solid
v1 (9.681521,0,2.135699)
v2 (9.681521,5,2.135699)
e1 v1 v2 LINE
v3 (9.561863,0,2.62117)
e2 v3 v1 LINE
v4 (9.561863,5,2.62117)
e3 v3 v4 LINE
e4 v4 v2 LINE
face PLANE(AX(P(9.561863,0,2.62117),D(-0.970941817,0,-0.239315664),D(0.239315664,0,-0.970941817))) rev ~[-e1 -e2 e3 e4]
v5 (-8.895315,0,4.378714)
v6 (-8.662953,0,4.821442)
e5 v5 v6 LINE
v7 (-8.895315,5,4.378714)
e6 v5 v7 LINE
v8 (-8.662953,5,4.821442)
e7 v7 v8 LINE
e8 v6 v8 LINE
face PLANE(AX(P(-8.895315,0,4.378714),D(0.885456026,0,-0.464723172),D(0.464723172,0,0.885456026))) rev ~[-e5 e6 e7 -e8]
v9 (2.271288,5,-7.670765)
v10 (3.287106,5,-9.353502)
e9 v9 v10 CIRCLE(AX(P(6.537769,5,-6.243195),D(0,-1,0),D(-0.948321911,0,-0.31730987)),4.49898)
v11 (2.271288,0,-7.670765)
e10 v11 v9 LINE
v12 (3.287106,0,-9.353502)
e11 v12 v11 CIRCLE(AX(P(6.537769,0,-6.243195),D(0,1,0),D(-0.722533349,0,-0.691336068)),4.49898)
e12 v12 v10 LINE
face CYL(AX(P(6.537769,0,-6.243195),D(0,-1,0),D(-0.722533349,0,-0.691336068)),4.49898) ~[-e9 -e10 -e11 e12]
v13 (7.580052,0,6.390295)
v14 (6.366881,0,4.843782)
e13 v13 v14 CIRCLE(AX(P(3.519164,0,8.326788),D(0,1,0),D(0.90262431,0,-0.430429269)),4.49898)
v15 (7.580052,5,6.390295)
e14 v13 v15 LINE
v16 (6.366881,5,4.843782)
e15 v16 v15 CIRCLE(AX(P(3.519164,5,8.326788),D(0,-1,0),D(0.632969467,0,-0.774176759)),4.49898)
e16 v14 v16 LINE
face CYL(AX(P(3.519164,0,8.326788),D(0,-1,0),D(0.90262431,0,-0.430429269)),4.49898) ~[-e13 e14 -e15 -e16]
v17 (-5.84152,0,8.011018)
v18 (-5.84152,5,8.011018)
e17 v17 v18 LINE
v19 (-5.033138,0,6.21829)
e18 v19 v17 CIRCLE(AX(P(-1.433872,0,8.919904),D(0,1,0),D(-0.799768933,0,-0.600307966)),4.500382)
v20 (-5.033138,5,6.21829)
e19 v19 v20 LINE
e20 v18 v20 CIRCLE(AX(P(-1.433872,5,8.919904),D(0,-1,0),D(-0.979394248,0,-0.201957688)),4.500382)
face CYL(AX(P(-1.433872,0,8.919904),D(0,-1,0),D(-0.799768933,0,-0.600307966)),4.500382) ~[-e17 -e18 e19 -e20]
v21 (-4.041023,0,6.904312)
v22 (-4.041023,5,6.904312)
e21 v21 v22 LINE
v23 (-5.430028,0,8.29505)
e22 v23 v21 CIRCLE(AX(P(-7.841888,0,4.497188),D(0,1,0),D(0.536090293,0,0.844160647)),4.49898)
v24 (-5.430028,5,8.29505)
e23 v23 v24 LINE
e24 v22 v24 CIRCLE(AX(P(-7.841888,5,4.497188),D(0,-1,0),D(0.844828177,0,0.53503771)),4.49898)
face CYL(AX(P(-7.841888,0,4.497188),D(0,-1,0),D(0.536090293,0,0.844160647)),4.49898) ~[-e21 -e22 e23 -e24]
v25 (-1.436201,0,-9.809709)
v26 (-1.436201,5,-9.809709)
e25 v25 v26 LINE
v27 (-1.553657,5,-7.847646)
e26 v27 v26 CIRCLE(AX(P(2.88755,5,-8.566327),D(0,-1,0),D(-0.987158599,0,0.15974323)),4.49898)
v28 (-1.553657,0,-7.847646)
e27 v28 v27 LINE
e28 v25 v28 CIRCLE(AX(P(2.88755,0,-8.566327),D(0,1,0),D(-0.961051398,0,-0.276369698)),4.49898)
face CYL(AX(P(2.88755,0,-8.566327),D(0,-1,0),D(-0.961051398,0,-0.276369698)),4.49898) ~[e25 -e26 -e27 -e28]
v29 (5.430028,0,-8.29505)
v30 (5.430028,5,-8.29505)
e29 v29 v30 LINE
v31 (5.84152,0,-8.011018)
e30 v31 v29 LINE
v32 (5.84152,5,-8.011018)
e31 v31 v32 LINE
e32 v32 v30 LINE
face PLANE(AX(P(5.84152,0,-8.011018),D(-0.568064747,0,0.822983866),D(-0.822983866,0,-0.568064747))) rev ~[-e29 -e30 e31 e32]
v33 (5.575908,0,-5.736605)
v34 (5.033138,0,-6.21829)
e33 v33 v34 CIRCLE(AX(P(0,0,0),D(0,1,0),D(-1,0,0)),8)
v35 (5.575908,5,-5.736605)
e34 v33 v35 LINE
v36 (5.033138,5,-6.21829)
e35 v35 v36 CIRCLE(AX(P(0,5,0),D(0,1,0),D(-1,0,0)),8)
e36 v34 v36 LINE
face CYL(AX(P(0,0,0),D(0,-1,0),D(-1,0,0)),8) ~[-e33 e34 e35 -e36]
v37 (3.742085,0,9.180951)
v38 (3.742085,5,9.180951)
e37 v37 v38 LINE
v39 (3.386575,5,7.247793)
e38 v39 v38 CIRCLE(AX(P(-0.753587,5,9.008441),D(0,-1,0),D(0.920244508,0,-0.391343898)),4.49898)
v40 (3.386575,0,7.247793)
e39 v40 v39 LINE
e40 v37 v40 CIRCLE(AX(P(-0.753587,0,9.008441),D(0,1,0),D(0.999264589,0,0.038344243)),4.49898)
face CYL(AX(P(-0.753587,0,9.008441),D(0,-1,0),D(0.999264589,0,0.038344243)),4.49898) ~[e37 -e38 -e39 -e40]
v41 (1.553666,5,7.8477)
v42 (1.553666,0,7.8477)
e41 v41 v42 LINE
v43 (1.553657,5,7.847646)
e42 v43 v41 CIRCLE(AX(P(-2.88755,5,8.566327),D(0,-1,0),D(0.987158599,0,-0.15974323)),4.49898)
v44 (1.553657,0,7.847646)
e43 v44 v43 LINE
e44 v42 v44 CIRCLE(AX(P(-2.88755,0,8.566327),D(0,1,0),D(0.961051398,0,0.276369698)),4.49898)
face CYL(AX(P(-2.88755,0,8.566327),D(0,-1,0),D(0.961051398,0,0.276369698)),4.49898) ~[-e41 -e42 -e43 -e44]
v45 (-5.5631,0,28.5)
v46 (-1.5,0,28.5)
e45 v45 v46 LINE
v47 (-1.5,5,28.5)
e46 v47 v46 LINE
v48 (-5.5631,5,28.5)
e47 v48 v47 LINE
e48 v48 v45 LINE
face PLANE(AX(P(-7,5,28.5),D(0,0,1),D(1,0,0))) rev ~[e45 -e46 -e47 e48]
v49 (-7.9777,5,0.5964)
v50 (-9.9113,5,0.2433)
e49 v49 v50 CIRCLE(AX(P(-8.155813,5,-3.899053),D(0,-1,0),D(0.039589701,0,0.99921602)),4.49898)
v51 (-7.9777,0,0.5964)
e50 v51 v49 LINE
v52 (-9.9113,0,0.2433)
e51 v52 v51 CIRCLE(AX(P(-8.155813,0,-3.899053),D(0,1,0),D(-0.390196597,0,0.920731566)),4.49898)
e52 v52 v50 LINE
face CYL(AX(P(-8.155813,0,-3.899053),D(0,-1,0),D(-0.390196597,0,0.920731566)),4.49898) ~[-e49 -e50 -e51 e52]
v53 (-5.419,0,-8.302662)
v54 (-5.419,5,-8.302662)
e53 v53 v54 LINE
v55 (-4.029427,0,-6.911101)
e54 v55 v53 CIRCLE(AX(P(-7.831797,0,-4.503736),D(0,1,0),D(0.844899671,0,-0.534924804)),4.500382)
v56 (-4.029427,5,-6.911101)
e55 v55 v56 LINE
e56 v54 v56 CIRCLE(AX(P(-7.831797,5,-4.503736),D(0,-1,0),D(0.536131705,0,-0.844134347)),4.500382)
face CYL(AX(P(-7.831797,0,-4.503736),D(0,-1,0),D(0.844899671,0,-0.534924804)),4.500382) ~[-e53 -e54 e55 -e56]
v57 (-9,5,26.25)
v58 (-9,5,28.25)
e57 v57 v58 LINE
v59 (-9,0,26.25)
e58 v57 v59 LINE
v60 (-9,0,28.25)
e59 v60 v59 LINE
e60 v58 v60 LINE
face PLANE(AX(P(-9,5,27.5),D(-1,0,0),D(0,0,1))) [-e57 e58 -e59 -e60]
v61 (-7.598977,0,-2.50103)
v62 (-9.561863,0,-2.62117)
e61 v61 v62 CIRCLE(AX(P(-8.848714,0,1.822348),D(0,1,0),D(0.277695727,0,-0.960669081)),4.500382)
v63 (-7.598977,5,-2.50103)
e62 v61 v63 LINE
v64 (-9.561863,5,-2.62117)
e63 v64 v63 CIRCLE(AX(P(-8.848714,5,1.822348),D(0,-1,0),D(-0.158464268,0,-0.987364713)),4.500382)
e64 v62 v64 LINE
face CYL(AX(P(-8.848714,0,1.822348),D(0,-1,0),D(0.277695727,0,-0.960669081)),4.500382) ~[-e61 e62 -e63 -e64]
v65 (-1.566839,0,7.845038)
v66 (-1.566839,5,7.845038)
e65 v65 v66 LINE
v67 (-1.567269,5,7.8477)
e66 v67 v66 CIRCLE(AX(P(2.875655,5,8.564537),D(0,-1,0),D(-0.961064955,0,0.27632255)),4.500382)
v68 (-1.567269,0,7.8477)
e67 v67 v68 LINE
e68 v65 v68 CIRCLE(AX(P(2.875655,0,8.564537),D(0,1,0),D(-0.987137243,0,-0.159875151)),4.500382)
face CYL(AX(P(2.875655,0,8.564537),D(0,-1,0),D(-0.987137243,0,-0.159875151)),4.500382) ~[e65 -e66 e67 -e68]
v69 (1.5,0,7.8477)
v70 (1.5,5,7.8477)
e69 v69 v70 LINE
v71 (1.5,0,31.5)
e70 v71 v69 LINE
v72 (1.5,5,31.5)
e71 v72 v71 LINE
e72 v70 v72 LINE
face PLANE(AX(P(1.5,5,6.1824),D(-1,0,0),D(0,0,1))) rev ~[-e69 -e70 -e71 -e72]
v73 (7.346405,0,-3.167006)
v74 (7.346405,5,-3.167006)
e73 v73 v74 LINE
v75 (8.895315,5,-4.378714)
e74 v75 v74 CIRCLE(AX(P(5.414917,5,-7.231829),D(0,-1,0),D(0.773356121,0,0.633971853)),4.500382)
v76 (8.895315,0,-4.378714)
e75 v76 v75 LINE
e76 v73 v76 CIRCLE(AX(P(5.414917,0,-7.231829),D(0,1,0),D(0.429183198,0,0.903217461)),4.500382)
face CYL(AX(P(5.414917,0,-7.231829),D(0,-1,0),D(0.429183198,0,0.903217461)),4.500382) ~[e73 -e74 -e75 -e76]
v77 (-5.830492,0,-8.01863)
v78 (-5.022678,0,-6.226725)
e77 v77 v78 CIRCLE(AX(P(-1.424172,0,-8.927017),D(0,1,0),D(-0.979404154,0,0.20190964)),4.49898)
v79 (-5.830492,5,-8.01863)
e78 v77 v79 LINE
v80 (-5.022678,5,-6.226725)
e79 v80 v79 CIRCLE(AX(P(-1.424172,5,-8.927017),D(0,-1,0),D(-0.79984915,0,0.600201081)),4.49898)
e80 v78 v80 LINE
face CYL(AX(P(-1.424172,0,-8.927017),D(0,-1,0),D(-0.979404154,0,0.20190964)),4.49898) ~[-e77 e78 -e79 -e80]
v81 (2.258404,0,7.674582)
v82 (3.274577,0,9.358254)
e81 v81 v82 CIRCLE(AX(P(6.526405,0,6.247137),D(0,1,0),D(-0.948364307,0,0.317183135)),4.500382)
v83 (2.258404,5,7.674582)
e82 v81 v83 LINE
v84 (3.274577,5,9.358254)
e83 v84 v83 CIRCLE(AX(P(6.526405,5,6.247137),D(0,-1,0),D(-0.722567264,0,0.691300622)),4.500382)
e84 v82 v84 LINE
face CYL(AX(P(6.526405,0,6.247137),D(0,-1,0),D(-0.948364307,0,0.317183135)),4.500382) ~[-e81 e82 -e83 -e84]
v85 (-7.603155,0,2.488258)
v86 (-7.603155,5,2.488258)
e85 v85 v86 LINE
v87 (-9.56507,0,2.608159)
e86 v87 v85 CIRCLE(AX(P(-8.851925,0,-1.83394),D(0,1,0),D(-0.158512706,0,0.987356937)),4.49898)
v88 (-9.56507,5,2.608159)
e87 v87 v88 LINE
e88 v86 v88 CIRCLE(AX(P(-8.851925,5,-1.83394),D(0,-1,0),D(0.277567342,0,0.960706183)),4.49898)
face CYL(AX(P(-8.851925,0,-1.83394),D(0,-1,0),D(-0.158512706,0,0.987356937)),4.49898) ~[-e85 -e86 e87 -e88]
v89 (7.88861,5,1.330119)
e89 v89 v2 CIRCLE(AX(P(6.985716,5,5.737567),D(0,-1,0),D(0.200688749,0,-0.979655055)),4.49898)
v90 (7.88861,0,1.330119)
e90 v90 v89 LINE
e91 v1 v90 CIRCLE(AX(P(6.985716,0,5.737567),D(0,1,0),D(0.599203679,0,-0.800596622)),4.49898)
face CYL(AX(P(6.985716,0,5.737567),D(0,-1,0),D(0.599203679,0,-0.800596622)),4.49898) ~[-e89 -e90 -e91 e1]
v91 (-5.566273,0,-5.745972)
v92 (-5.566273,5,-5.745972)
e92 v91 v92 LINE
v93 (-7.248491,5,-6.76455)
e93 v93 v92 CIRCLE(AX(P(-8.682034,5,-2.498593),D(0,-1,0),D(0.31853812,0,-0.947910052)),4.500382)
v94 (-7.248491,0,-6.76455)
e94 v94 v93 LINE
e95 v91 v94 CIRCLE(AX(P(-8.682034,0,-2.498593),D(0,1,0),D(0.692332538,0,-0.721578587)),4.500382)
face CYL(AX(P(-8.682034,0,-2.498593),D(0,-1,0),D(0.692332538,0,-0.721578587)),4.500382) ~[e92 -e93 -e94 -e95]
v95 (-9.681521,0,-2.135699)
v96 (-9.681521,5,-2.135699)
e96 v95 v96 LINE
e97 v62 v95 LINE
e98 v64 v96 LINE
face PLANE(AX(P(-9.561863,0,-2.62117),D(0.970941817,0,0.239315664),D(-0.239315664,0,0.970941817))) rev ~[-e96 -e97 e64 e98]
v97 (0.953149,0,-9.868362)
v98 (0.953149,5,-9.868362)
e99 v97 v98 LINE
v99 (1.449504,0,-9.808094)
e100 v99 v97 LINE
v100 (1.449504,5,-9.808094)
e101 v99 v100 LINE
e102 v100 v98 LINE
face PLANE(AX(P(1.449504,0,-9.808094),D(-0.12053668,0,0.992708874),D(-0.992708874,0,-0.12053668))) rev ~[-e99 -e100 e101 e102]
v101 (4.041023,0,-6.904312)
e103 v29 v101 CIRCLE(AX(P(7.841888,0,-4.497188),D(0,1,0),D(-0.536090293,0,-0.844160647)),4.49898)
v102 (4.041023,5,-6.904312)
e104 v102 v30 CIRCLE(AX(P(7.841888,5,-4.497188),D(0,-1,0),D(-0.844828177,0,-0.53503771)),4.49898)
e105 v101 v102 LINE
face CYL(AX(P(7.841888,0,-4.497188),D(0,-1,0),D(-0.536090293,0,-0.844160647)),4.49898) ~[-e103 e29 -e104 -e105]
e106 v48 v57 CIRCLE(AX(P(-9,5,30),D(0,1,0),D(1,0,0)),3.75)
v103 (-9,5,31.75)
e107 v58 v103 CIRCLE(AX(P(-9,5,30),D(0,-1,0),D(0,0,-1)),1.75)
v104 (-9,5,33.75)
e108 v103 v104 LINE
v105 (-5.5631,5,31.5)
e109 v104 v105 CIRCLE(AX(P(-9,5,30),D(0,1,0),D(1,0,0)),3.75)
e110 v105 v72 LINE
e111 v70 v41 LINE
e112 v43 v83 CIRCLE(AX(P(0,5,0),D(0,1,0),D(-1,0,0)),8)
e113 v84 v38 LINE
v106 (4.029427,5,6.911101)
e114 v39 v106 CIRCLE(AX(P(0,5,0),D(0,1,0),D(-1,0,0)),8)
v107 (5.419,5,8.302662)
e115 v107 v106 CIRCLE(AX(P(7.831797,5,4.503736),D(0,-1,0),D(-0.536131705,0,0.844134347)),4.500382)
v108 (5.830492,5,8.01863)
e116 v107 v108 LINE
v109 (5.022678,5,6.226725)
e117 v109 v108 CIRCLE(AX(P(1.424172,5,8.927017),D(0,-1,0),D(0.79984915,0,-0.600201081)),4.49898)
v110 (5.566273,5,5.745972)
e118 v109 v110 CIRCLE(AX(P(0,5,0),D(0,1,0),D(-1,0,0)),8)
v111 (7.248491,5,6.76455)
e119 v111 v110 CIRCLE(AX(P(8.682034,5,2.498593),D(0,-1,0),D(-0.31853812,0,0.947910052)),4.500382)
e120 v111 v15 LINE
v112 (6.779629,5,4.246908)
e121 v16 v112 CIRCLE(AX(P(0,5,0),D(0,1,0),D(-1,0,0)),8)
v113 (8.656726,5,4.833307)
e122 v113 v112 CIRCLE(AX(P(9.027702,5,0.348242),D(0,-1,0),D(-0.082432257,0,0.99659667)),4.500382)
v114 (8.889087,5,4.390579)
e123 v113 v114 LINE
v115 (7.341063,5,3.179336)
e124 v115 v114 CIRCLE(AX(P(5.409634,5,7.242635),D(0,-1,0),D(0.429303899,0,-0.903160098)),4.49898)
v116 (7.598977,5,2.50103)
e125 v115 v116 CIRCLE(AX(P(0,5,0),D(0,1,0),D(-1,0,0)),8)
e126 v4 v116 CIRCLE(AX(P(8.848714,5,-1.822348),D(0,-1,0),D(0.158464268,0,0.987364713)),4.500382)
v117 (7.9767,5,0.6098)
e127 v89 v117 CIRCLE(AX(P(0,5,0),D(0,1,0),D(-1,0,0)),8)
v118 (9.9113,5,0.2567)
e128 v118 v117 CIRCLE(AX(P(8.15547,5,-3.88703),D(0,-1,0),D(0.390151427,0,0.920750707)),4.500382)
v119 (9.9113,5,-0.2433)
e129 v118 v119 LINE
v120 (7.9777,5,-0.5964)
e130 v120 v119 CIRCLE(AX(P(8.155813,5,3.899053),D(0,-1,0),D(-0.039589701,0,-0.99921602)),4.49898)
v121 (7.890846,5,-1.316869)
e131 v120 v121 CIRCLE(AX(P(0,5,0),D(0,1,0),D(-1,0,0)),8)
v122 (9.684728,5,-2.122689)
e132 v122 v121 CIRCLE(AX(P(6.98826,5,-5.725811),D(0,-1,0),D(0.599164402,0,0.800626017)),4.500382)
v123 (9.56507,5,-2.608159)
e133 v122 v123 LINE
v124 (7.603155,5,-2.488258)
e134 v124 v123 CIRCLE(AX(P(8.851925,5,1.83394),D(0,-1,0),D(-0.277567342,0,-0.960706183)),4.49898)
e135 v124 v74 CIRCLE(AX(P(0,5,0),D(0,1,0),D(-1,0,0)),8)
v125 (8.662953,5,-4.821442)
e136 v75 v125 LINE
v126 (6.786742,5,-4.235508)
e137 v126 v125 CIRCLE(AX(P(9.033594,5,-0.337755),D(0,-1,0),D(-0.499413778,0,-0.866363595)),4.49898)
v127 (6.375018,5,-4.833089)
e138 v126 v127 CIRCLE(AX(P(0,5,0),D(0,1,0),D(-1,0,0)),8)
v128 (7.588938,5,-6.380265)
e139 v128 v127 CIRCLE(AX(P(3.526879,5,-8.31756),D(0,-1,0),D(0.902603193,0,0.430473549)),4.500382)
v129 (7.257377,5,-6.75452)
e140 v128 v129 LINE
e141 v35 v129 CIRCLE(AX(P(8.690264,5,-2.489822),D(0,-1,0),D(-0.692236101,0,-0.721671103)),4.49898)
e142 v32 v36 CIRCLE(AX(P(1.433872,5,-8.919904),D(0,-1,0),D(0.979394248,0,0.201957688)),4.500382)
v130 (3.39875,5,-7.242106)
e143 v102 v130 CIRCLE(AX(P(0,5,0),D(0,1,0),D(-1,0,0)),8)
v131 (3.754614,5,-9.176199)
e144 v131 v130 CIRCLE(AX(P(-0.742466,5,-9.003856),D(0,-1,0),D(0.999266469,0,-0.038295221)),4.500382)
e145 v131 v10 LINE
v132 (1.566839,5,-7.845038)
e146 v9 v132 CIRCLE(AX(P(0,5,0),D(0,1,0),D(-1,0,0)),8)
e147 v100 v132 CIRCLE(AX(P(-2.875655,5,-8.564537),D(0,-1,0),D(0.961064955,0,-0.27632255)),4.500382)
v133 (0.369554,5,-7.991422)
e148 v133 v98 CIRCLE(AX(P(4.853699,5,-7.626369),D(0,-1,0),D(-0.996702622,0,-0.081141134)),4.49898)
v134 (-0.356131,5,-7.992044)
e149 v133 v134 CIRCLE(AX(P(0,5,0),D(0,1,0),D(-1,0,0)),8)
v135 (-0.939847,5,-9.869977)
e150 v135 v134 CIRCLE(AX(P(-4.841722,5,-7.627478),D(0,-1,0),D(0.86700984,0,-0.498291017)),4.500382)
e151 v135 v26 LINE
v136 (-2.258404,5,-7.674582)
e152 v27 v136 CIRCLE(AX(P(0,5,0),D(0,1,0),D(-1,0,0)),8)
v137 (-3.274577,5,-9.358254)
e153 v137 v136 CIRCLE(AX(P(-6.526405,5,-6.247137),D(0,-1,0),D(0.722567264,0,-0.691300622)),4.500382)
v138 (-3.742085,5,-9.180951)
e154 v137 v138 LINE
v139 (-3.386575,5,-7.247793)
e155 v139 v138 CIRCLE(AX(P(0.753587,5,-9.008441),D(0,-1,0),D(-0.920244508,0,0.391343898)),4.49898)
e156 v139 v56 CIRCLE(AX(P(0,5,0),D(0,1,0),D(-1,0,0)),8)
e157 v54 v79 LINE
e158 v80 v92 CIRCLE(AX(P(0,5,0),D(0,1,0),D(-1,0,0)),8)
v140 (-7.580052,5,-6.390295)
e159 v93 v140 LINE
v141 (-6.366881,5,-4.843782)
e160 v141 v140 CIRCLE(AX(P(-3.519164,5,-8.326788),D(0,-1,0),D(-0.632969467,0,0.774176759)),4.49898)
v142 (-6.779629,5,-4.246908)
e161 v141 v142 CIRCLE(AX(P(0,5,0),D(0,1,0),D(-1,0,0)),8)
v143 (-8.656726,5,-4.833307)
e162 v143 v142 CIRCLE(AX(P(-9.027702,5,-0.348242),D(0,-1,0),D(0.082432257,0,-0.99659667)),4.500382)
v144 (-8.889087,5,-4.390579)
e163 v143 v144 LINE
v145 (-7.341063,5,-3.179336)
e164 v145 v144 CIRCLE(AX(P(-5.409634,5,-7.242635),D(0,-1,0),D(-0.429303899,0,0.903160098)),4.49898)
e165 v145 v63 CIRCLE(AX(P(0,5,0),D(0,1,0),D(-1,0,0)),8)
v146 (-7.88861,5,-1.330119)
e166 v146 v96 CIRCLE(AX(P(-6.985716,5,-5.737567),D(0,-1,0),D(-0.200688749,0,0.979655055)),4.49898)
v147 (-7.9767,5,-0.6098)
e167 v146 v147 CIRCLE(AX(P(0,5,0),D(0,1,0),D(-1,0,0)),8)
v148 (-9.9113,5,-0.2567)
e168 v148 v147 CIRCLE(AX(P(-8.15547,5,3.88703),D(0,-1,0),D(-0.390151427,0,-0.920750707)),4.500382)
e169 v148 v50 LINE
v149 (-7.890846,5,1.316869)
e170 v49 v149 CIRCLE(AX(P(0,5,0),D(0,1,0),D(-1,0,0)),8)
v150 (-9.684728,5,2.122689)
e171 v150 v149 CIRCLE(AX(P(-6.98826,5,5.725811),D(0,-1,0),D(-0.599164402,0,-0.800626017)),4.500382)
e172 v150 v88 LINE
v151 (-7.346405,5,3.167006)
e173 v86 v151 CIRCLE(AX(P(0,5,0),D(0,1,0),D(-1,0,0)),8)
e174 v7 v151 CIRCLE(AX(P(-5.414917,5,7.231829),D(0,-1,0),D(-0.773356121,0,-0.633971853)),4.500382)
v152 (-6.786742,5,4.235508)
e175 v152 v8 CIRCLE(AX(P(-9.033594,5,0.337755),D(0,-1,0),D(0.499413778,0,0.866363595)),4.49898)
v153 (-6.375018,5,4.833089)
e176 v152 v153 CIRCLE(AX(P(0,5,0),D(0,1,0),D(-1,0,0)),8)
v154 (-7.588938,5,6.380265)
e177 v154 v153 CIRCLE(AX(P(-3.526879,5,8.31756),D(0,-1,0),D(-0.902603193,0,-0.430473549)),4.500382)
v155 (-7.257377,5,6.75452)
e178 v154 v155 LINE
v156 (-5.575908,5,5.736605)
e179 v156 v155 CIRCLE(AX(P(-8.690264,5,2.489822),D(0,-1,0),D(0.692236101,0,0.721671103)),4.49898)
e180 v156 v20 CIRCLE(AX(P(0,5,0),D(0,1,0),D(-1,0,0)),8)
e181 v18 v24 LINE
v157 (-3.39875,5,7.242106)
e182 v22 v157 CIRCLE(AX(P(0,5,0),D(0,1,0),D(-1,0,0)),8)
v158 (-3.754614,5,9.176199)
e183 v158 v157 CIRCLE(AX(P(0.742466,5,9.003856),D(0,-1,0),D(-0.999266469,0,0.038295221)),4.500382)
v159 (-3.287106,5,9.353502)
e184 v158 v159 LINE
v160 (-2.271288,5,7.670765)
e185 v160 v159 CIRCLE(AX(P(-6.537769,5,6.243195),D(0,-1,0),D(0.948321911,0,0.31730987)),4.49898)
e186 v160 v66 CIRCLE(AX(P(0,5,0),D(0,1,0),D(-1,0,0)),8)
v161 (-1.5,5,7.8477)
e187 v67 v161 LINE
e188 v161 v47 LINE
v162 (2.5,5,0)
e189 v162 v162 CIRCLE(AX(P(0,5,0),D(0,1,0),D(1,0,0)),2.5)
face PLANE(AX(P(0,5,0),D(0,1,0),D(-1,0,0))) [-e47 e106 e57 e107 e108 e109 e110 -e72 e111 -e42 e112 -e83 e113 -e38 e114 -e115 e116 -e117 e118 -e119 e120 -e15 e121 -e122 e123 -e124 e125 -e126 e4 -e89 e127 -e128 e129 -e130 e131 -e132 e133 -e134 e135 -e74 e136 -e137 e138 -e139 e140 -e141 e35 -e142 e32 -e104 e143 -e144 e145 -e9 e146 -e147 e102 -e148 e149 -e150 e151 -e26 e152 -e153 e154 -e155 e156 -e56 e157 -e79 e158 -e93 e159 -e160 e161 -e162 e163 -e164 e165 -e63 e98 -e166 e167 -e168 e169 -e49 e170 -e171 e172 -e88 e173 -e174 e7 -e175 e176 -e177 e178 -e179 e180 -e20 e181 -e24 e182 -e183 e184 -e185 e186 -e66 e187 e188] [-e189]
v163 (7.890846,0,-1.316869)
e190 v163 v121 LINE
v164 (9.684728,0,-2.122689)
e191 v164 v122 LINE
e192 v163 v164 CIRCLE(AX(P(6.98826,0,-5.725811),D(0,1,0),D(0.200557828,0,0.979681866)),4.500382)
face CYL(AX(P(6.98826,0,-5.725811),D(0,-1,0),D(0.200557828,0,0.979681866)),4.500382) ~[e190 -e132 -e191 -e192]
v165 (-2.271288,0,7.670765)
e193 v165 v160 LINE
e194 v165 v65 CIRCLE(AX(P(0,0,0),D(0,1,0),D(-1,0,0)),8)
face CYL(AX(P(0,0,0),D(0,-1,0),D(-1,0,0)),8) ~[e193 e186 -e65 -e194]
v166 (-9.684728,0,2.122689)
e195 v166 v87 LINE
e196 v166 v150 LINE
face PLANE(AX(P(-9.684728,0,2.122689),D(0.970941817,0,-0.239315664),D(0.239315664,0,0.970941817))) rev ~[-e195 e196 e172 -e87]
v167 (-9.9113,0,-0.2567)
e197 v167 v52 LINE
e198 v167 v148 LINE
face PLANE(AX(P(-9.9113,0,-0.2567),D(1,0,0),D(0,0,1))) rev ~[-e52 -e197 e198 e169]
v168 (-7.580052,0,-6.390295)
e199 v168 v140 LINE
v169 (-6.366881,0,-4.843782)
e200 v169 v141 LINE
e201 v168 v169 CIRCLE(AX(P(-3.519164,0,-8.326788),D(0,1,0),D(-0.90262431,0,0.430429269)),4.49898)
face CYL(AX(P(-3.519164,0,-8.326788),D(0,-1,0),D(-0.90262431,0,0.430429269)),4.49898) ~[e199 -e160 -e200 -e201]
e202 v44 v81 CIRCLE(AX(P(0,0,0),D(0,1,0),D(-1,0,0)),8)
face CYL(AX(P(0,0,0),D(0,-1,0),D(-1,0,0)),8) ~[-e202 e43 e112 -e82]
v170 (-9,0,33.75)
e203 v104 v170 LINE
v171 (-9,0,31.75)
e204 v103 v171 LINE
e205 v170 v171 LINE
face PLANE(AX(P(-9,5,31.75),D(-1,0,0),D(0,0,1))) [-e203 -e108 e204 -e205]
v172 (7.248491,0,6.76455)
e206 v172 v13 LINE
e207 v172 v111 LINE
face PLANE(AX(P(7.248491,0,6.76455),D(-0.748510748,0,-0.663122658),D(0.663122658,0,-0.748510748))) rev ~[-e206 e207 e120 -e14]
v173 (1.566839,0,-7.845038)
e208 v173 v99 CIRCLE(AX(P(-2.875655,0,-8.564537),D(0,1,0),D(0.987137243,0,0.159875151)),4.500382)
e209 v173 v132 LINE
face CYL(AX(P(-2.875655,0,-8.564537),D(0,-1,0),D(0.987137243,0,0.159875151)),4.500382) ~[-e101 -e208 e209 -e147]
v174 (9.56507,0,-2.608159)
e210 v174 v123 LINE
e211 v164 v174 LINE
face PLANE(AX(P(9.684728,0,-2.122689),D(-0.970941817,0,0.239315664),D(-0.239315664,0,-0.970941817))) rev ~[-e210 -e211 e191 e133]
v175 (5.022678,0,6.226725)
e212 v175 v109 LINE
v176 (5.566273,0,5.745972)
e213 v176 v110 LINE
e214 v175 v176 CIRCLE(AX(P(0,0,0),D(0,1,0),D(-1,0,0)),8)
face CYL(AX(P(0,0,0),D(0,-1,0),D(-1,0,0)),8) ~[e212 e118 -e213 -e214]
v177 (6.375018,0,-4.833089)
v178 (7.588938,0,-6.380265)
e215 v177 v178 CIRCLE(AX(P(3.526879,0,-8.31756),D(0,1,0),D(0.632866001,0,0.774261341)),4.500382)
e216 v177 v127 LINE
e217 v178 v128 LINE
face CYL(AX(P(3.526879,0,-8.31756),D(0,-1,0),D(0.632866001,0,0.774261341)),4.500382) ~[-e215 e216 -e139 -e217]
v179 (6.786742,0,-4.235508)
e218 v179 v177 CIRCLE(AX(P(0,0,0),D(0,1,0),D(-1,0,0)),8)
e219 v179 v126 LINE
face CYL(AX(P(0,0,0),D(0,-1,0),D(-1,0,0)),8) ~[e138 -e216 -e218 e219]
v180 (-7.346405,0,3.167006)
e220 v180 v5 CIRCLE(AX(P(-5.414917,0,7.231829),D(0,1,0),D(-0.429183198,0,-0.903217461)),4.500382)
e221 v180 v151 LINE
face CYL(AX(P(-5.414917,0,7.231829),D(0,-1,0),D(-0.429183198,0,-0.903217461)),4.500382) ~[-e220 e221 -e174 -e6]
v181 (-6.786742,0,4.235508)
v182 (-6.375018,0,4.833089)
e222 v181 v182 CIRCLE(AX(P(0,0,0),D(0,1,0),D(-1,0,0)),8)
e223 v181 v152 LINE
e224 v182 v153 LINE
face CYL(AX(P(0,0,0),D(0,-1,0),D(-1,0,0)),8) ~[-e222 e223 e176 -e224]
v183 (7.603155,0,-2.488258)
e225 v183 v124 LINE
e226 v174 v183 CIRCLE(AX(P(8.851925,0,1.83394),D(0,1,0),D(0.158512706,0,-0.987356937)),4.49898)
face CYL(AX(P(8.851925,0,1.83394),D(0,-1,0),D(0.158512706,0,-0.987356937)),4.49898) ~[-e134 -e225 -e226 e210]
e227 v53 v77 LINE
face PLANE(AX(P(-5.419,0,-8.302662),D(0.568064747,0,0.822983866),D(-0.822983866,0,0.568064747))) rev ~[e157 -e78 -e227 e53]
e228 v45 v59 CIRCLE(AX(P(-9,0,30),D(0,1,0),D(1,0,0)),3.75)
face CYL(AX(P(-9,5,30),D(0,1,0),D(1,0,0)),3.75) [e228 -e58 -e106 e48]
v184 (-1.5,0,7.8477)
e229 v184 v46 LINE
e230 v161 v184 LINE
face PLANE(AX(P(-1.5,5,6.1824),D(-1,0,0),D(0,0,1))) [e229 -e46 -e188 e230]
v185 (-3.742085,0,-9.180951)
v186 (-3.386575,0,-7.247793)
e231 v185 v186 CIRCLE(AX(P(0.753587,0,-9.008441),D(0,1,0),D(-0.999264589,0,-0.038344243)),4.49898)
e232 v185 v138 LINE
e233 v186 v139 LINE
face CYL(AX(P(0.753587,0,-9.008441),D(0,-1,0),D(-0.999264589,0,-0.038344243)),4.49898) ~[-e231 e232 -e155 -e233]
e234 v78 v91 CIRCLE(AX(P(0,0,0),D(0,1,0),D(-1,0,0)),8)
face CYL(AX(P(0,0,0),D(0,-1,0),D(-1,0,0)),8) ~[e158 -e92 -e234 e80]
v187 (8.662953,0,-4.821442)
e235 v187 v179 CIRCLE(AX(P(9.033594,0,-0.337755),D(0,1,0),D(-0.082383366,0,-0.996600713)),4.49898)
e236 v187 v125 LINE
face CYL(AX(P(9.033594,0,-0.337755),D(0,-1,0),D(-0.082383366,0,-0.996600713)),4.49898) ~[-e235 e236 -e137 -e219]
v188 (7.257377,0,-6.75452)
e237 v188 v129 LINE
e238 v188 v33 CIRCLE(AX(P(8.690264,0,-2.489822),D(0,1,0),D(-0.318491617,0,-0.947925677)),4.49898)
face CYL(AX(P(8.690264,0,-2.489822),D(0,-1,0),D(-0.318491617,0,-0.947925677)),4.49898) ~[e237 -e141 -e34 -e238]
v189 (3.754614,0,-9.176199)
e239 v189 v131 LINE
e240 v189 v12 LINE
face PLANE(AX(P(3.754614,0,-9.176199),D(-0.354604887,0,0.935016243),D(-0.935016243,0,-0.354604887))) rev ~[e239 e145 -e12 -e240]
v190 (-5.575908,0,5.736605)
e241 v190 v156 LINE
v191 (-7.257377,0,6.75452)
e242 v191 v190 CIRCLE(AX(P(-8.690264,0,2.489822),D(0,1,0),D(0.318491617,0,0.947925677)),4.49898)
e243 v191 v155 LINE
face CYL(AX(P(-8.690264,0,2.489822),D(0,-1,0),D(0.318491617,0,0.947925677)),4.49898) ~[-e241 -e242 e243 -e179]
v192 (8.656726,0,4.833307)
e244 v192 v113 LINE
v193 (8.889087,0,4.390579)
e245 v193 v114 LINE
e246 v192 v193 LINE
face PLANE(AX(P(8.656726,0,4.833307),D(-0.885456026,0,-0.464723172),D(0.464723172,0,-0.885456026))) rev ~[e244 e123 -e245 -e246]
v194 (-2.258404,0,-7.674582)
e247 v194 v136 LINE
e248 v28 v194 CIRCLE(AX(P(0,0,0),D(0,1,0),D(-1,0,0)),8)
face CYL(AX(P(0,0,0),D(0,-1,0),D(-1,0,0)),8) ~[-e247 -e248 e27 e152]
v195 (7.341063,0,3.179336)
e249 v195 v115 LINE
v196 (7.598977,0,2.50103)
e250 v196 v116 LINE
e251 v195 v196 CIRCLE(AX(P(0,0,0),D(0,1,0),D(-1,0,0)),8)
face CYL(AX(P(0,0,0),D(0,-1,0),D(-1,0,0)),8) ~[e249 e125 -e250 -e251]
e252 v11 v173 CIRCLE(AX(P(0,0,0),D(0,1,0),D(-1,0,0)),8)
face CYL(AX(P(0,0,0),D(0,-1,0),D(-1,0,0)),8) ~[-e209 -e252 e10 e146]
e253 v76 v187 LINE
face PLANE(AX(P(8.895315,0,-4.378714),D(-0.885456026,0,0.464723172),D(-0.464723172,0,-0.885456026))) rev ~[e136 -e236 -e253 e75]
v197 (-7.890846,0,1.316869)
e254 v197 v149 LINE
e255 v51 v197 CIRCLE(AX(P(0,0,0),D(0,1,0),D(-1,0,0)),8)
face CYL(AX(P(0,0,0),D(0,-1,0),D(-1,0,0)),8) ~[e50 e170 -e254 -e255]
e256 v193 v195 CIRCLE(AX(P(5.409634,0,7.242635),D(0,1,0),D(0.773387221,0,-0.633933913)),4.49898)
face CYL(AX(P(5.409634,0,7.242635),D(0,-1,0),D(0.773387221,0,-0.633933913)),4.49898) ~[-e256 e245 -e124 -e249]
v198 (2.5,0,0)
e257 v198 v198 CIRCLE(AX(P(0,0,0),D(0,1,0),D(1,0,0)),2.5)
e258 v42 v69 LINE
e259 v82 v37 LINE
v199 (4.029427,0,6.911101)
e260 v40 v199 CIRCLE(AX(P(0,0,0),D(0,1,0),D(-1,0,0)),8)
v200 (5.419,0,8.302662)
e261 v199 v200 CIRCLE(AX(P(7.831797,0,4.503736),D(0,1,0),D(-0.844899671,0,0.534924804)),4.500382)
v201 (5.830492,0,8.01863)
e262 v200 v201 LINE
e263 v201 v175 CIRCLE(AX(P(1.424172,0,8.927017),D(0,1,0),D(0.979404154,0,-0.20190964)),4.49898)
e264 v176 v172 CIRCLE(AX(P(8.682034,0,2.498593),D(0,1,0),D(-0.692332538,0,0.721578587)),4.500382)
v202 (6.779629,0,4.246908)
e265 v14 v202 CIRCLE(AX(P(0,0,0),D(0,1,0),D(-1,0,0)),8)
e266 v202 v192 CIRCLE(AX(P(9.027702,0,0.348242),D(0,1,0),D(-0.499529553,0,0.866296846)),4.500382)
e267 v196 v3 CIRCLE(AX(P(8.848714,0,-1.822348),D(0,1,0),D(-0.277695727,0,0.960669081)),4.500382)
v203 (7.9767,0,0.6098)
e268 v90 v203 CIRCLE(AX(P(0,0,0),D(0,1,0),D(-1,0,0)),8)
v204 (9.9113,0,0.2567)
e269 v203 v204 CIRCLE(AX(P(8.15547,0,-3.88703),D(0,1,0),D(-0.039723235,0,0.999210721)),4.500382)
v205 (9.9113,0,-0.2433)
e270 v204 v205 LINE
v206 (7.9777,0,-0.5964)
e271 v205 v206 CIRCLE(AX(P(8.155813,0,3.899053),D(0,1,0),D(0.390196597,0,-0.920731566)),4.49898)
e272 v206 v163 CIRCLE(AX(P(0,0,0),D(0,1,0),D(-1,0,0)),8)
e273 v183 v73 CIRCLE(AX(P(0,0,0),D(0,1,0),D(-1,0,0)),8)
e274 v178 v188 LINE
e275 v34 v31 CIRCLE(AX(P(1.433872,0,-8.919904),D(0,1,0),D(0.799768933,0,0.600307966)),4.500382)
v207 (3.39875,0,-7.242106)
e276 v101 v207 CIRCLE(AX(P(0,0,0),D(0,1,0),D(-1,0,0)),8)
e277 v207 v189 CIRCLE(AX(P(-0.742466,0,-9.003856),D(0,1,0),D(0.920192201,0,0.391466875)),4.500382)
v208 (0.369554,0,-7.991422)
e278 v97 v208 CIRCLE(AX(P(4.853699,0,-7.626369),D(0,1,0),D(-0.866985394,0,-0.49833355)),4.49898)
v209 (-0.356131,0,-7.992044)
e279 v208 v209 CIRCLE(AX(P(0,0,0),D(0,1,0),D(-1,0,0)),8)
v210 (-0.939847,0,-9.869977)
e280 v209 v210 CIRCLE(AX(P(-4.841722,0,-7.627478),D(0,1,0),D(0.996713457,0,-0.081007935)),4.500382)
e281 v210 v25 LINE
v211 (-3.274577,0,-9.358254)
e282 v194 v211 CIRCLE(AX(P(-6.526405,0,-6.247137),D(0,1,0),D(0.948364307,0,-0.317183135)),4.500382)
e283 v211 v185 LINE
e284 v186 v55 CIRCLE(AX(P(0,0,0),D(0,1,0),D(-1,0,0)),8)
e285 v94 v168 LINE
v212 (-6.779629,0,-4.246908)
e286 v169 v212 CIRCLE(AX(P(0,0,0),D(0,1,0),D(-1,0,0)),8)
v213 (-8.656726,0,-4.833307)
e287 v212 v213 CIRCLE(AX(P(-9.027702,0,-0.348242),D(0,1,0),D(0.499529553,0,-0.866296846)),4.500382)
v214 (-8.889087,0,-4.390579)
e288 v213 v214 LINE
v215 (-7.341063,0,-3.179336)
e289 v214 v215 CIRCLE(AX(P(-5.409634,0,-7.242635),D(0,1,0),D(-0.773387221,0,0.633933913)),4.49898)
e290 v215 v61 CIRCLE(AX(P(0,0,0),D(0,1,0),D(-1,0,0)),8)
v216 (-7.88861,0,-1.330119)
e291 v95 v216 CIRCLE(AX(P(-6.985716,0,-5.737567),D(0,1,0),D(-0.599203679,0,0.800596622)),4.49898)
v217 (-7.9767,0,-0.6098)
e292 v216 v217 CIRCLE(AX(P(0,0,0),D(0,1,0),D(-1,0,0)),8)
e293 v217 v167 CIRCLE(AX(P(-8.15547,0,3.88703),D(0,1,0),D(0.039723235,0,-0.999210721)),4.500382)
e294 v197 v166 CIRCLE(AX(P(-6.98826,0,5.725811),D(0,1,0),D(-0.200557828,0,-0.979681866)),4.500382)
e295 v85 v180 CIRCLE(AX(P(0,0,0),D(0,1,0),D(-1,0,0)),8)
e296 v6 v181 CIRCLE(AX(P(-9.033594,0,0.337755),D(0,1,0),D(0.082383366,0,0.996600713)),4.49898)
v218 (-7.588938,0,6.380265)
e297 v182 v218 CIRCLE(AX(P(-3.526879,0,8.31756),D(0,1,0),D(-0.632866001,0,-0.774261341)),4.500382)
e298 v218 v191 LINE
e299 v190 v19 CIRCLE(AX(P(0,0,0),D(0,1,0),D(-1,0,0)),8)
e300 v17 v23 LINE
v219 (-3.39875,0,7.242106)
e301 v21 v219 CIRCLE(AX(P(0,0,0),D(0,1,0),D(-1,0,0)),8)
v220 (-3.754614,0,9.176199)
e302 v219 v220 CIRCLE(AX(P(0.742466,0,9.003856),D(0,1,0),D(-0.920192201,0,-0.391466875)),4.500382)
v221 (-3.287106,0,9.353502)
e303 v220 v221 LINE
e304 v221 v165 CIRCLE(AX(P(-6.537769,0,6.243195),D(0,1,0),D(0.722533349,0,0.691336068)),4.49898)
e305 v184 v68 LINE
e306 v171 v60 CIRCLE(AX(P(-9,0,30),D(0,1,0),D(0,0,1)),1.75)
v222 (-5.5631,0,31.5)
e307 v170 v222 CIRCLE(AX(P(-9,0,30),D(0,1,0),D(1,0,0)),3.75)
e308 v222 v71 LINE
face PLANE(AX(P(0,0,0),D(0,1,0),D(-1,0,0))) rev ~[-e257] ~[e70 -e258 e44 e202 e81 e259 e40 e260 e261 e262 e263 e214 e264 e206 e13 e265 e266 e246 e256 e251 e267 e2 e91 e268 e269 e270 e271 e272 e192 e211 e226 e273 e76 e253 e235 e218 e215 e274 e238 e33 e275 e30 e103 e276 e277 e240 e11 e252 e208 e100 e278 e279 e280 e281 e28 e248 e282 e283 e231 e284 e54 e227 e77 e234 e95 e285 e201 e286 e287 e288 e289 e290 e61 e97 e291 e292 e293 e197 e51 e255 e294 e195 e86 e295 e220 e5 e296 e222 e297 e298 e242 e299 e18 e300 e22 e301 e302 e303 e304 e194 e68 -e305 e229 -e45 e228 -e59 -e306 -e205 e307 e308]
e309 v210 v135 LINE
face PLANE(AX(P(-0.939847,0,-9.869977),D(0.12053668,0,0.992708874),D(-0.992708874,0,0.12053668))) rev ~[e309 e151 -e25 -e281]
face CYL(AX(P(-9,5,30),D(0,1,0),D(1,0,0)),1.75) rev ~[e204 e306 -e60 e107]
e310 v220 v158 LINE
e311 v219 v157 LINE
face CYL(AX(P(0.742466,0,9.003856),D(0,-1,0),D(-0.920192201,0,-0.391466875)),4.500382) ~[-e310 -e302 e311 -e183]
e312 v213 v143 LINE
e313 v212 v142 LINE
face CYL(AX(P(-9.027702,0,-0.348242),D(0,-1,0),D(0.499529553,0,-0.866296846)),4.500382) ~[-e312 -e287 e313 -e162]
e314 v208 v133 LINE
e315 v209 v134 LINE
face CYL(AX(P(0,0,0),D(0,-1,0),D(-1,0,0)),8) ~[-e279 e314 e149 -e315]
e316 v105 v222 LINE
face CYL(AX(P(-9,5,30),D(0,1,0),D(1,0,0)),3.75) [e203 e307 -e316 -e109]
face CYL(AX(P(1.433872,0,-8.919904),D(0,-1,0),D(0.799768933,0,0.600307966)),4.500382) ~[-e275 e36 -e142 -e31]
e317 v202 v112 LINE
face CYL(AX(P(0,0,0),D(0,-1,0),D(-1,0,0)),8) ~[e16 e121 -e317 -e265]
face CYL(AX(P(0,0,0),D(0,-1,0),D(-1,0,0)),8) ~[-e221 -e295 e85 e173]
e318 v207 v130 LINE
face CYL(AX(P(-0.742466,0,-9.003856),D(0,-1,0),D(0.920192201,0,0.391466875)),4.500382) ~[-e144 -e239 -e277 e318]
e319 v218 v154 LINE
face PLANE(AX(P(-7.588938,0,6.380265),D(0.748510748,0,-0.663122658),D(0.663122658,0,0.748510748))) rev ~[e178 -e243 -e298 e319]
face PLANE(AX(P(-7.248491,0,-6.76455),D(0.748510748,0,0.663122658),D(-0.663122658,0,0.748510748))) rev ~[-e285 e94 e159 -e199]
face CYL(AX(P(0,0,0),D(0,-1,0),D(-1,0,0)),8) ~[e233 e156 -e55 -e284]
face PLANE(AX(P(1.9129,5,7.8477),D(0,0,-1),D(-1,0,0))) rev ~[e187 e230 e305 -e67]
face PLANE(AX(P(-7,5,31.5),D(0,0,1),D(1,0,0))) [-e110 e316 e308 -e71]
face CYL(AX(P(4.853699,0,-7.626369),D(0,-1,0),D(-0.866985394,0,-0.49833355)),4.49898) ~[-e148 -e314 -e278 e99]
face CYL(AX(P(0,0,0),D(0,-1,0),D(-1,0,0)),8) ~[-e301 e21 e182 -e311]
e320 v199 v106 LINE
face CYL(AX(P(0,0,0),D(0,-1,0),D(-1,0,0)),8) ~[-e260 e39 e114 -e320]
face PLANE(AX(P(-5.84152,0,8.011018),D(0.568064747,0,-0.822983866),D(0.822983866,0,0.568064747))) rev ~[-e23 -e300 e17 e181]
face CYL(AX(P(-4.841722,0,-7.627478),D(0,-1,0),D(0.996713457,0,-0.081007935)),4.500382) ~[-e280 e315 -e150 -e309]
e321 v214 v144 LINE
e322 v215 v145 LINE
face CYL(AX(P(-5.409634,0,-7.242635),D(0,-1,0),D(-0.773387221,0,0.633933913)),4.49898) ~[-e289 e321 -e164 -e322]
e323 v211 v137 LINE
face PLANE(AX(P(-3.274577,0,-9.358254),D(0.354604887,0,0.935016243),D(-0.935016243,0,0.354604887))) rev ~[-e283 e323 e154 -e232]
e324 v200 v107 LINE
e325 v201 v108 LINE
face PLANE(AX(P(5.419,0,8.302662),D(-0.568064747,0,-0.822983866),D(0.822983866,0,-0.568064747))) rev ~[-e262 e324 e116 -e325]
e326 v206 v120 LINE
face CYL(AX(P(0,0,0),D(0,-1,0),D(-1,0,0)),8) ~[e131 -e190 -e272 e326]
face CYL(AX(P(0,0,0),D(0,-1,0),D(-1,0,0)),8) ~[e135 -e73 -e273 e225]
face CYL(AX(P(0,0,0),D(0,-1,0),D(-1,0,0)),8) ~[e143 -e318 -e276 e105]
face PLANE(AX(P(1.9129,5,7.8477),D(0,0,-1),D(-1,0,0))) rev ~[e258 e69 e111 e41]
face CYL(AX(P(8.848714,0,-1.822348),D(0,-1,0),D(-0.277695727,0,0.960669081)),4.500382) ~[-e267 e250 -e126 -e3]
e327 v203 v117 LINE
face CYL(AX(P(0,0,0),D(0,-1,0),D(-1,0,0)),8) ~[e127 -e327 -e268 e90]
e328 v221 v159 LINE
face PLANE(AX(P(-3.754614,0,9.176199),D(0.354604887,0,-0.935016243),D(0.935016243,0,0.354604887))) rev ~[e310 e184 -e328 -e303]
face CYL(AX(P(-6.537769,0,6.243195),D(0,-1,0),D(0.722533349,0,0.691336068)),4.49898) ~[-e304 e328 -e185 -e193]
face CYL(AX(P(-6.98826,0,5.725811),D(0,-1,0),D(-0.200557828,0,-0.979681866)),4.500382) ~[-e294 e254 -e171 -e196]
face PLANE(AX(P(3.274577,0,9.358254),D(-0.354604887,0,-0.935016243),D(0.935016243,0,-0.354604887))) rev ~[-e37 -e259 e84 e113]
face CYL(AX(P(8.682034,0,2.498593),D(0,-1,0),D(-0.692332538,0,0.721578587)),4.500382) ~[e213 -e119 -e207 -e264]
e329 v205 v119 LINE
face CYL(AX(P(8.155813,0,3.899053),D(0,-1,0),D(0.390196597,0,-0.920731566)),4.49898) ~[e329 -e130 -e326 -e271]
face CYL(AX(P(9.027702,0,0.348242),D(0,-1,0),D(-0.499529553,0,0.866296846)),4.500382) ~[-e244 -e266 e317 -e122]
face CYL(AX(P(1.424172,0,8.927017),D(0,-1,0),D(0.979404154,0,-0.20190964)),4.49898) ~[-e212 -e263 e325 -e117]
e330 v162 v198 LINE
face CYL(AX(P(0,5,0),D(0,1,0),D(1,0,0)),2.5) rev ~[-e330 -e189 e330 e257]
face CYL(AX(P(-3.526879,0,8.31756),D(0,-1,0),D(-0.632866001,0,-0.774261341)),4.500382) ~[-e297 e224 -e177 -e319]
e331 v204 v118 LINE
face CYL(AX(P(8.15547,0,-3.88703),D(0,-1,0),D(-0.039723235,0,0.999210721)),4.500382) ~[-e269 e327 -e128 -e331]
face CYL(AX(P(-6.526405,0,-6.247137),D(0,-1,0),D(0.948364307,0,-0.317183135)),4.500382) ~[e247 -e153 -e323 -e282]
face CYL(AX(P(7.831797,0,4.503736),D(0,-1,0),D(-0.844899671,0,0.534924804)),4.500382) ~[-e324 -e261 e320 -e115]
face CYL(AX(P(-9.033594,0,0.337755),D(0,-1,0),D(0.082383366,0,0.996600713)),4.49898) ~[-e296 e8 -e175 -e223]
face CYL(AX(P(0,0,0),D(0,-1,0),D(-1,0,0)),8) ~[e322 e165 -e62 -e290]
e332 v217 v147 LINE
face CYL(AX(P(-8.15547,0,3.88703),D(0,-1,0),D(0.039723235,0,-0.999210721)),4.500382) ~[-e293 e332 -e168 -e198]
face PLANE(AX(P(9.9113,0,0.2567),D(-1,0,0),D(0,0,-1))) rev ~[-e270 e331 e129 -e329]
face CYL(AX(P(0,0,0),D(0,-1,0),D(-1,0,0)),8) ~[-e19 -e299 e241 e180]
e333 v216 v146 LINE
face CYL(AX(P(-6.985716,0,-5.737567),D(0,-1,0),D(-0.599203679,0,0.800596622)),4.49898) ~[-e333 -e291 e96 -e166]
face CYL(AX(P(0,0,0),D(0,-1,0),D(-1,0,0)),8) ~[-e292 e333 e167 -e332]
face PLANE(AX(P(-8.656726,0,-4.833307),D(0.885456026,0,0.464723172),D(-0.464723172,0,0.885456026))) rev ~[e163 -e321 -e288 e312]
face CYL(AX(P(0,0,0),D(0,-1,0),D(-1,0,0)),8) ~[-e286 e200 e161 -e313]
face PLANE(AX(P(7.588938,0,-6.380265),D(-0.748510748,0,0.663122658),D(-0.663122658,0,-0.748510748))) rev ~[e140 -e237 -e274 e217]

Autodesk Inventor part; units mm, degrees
ref_plane "YZ Plane" through (0, 0, 0) normal (1, 0, 0) x (0, 1, 0)
ref_plane "XZ Plane" through (0, 0, 0) normal (0, 1, 0) x (-1, 0, 0)
ref_plane "XY Plane" through (0, 0, 0) normal (0, 0, 1) x (1, 0, 0)
sketch "Sketch1" plane through (0, 0, 0) normal (0, 1, 0) x (-1, 0, 0)
  circle A0 centre (0, 0) radius 8
  circle A1 centre (0, 0) radius 2
  line L0 (7.9113, 0.5933) -> (7.9113, -0.6067)
  line L1 (9.9113, -0.2567) -> (9.9113, 0.2433)
  line L2 (7.6237, -0.0067) -> (9.0479, -0.0067) construction
  arc A2 (9.9113, 0.2433) -> (7.9113, 0.5933) centre (8.1555, -3.9001) ccw construction
  arc A3 (7.9113, -0.6067) -> (9.9113, -0.2567) centre (8.1555, 3.8866) ccw construction
  arc A4 (9.9113, 0.2433) -> (7.9113, 0.5933) centre (8.1555, -3.9001) ccw construction
  arc A5 (9.9113, 0.2433) -> (7.9777, 0.5964) centre (8.1555, -3.9001) ccw
  arc A6 (7.9767, -0.6098) -> (9.9113, -0.2567) centre (8.1555, 3.8866) ccw
  line L3 (9.4, 0) -> (9.4, -0.4379)
  line L4 (9.4, 0) -> (9.4, 0.4244)
  arc A7 (5.296, -1.8919) -> (5.296, 1.8784) centre (4.6281, -0.0067) ccw
  circle A8 centre (0, 0) radius 8
  dimension "d0" = 16
  dimension "d1" = 4
  dimension "d2" = 0.25
  dimension "d3" = 0.25
  dimension "d4" = 0.6
  dimension "d7" = 1.2
  dimension "d8" = 4.5
  dimension "d10" = 2
extrude "Extrusion1" add sketch "Sketch1" along normal blind 5
pattern_circular "Circular Pattern1" count 26 over 360 about axis through (0, 0, 0) along (0, 1, 0) of "Extrusion1"
sketch "Sketch8" plane through (0, 5, 0) normal (0, 1, 0) x (1, 0, 0)
  circle A0 centre (0, 0) radius 2.5
  circle A1 centre (0, 0) radius 2
  dimension "d49" = 5
  dimension "d50" = 4
extrude "Extrusion6" cut sketch "Sketch8" against normal blind 13.8125
sketch "Sketch11" plane through (0, 5, 0) normal (0, 1, 0) x (1, 0, 0)
  line L0 (0, 0) -> (30, 0)
  line L1 (30, 0) -> (30, -9)
  line L2 (30, -9) -> (0, -9)
  line L3 (0, -9) -> (0, 0)
  circle A0 centre (30, -9) radius 1.75
  dimension "d84" = 30
  dimension "d85" = 9
  dimension "d86" = 3.5
extrude "Extrusion9" cut sketch "Sketch11" against normal blind 10 contours A0 L2 L1 | L1 L2 A0
sketch "Sketch12" plane through (0, 5, 0) normal (0, 1, 0) x (1, 0, 0)
  circle A0 centre (0, 0) radius 2.5 projected
  line L0 (0, 0) -> (-1.5, 0)
  line L1 (-1.5, 0) -> (-1.5, -14.191)
  line L2 (-1.5, -14.191) -> (0, -14.191)
  line L3 (0, -14.191) -> (0, 0)
  line L4 (0, -14.191) -> (1.5, -14.191)
  line L5 (1.5, -14.191) -> (1.5, -6.1824)
  line L6 (1.5, -6.1824) -> (0, -6.1824)
  line L7 (0, -6.1824) -> (0, -14.191)
  line L8 (-1.5, -14.191) -> (0, -14.191)
  line L9 (0, -14.191) -> (0, -6.1824)
  line L10 (0, -6.1824) -> (-1.5, -6.1824)
  line L11 (-1.5, -6.1824) -> (-1.5, -14.191)
  dimension "d89" = 1.5
  dimension "d90" = 1.5
extrude "Extrusion10" cut sketch "Sketch12" against normal blind 10 contours L10 L3 L2 L1 | L6 L5 L4 L3
sketch "Sketch13" plane through (0, 5, 0) normal (0, 1, 0) x (1, 0, 0)
  arc A0 (-1.5669, -7.8451) -> (-1.5, -9.6168) centre (2.8753, -8.5646) ccw projected
  line L0 (1.5537, -7.8477) -> (-1.5669, -7.8451)
  line L1 (2.1693, -7.8482) -> (-2.0082, -7.8482)
  line L2 (-2.0082, -7.8482) -> (-2.0082, -10.2143)
  line L3 (-2.0082, -10.2143) -> (2.1693, -10.2143)
  line L4 (2.1693, -10.2143) -> (2.1693, -7.8482)
  point P0 (0, 0)
sketch "Sketch14" plane through (0, 5, 0) normal (0, 1, 0) x (1, 0, 0)
  line L0 (1.9129, -7.8477) -> (1.156, -7.8477)
  line L1 (1.156, -7.8477) -> (1.156, -9.6618)
  line L2 (1.156, -9.6618) -> (1.9129, -9.6618)
  line L3 (1.9129, -9.6618) -> (1.9129, -7.8477)
  line L4 (1.156, -9.6618) -> (-2.0763, -9.6618)
  line L5 (-2.0763, -9.6618) -> (-2.0763, -7.8477)
  line L6 (-2.0763, -7.8477) -> (1.156, -7.8477)
  line L7 (1.156, -7.8477) -> (1.156, -9.6618)
  point P0 (0, 0)
extrude "Extrusion11" cut sketch "Sketch14" against normal blind 10
sketch "Sketch15" plane through (0, 5, 0) normal (0, 1, 0) x (1, 0, 0)
  line L0 (0, 0) -> (-9, 0)
  line L1 (-9, 0) -> (-9, -30)
  line L2 (-9, -30) -> (0, -30)
  line L3 (0, -30) -> (0, 0)
  line L4 (1.5, -6.1824) -> (1.5, -7.8477) projected
  line L5 (1.5, -6.1824) -> (-1.5, -6.1824)
  line L6 (-1.5, -6.1824) -> (-1.5, -30)
  line L7 (-1.5, -30) -> (1.5, -30)
  line L8 (1.5, -30) -> (1.5, -6.1824)
  line L9 (1.5, -30) -> (-9, -30)
  line L10 (-9, -30) -> (-9, -31.5)
  line L11 (-9, -31.5) -> (1.5, -31.5)
  line L12 (1.5, -31.5) -> (1.5, -30)
  line L13 (1.5, -30) -> (-9, -30)
  line L14 (-9, -30) -> (-9, -28.5)
  line L15 (-9, -28.5) -> (1.5, -28.5)
  line L16 (1.5, -28.5) -> (1.5, -30)
  circle A0 centre (-9, -30) radius 1.75
  circle A1 centre (-9, -30) radius 2.5
  line L17 (-9, -31.5) -> (-9, -32.8448)
  line L18 (-9, -32.8448) -> (-9, -26.54)
  point P0 (-1.5, -28.5)
  point P1 (-7, -28.5)
  point P2 (-9, -27.5)
  point P3 (-9, -28.25)
  point P4 (-9, -31.75)
  point P5 (-9, -32.5)
  point P6 (-7, -31.5)
  dimension "d95" = 9
  dimension "d96" = 30
  dimension "d97" = 3
  dimension "d98" = 1.5
  dimension "d99" = 1.5
  dimension "d100" = 3.5
  dimension "d101" = 5
extrude "Extrusion12" add sketch "Sketch15" against normal blind 5 contours L5 L4 L8 L15 L3 | L3 L15 L6 L5 | L15 L8 L7 L3 | L3 L2 L6 L15 | A1 L15 A0 L1 | L7 L12 L11 A1 L2 | L6 L2 A1 L15 | A1 L2 A0 L15 | L17 A0 L11 A1 | A1 L11 A0 L2
sketch "Sketch16" plane through (0, 5, 0) normal (0, 1, 0) x (1, 0, 0)
  arc A0 (-9, -31.75) -> (-9, -28.25) centre (-9, -30) ccw projected
  circle A1 centre (-9, -30) radius 1.75
  line L0 (-9, -31.75) -> (-9, -33.75)
  line L1 (-9, -28.25) -> (-9, -27.5) projected
  line L2 (-9, -28.25) -> (-9, -26.25)
  circle A2 centre (-9, -30) radius 3.75
  circle A3 centre (-9, -30) radius 2.5
  line L3 (1.5, -31.5) -> (-7, -31.5) projected
  line L4 (-5.5631, -31.5) -> (-7, -31.5)
  line L5 (-1.5, -28.5) -> (-7, -28.5) projected
  line L6 (-5.5631, -28.5) -> (-7, -28.5)
  point P0 (0, 0)
  point P1 (-9, -32.5)
  dimension "d104" = 2
  dimension "d105" = 2
  dimension "d106" = 7.5
  dimension "d107" = 5
extrude "Extrusion13" add sketch "Sketch16" against normal blind 5 contours A3 L3 A2 L0 | L2 A2 L5 A3
properties part number "Free gear"
